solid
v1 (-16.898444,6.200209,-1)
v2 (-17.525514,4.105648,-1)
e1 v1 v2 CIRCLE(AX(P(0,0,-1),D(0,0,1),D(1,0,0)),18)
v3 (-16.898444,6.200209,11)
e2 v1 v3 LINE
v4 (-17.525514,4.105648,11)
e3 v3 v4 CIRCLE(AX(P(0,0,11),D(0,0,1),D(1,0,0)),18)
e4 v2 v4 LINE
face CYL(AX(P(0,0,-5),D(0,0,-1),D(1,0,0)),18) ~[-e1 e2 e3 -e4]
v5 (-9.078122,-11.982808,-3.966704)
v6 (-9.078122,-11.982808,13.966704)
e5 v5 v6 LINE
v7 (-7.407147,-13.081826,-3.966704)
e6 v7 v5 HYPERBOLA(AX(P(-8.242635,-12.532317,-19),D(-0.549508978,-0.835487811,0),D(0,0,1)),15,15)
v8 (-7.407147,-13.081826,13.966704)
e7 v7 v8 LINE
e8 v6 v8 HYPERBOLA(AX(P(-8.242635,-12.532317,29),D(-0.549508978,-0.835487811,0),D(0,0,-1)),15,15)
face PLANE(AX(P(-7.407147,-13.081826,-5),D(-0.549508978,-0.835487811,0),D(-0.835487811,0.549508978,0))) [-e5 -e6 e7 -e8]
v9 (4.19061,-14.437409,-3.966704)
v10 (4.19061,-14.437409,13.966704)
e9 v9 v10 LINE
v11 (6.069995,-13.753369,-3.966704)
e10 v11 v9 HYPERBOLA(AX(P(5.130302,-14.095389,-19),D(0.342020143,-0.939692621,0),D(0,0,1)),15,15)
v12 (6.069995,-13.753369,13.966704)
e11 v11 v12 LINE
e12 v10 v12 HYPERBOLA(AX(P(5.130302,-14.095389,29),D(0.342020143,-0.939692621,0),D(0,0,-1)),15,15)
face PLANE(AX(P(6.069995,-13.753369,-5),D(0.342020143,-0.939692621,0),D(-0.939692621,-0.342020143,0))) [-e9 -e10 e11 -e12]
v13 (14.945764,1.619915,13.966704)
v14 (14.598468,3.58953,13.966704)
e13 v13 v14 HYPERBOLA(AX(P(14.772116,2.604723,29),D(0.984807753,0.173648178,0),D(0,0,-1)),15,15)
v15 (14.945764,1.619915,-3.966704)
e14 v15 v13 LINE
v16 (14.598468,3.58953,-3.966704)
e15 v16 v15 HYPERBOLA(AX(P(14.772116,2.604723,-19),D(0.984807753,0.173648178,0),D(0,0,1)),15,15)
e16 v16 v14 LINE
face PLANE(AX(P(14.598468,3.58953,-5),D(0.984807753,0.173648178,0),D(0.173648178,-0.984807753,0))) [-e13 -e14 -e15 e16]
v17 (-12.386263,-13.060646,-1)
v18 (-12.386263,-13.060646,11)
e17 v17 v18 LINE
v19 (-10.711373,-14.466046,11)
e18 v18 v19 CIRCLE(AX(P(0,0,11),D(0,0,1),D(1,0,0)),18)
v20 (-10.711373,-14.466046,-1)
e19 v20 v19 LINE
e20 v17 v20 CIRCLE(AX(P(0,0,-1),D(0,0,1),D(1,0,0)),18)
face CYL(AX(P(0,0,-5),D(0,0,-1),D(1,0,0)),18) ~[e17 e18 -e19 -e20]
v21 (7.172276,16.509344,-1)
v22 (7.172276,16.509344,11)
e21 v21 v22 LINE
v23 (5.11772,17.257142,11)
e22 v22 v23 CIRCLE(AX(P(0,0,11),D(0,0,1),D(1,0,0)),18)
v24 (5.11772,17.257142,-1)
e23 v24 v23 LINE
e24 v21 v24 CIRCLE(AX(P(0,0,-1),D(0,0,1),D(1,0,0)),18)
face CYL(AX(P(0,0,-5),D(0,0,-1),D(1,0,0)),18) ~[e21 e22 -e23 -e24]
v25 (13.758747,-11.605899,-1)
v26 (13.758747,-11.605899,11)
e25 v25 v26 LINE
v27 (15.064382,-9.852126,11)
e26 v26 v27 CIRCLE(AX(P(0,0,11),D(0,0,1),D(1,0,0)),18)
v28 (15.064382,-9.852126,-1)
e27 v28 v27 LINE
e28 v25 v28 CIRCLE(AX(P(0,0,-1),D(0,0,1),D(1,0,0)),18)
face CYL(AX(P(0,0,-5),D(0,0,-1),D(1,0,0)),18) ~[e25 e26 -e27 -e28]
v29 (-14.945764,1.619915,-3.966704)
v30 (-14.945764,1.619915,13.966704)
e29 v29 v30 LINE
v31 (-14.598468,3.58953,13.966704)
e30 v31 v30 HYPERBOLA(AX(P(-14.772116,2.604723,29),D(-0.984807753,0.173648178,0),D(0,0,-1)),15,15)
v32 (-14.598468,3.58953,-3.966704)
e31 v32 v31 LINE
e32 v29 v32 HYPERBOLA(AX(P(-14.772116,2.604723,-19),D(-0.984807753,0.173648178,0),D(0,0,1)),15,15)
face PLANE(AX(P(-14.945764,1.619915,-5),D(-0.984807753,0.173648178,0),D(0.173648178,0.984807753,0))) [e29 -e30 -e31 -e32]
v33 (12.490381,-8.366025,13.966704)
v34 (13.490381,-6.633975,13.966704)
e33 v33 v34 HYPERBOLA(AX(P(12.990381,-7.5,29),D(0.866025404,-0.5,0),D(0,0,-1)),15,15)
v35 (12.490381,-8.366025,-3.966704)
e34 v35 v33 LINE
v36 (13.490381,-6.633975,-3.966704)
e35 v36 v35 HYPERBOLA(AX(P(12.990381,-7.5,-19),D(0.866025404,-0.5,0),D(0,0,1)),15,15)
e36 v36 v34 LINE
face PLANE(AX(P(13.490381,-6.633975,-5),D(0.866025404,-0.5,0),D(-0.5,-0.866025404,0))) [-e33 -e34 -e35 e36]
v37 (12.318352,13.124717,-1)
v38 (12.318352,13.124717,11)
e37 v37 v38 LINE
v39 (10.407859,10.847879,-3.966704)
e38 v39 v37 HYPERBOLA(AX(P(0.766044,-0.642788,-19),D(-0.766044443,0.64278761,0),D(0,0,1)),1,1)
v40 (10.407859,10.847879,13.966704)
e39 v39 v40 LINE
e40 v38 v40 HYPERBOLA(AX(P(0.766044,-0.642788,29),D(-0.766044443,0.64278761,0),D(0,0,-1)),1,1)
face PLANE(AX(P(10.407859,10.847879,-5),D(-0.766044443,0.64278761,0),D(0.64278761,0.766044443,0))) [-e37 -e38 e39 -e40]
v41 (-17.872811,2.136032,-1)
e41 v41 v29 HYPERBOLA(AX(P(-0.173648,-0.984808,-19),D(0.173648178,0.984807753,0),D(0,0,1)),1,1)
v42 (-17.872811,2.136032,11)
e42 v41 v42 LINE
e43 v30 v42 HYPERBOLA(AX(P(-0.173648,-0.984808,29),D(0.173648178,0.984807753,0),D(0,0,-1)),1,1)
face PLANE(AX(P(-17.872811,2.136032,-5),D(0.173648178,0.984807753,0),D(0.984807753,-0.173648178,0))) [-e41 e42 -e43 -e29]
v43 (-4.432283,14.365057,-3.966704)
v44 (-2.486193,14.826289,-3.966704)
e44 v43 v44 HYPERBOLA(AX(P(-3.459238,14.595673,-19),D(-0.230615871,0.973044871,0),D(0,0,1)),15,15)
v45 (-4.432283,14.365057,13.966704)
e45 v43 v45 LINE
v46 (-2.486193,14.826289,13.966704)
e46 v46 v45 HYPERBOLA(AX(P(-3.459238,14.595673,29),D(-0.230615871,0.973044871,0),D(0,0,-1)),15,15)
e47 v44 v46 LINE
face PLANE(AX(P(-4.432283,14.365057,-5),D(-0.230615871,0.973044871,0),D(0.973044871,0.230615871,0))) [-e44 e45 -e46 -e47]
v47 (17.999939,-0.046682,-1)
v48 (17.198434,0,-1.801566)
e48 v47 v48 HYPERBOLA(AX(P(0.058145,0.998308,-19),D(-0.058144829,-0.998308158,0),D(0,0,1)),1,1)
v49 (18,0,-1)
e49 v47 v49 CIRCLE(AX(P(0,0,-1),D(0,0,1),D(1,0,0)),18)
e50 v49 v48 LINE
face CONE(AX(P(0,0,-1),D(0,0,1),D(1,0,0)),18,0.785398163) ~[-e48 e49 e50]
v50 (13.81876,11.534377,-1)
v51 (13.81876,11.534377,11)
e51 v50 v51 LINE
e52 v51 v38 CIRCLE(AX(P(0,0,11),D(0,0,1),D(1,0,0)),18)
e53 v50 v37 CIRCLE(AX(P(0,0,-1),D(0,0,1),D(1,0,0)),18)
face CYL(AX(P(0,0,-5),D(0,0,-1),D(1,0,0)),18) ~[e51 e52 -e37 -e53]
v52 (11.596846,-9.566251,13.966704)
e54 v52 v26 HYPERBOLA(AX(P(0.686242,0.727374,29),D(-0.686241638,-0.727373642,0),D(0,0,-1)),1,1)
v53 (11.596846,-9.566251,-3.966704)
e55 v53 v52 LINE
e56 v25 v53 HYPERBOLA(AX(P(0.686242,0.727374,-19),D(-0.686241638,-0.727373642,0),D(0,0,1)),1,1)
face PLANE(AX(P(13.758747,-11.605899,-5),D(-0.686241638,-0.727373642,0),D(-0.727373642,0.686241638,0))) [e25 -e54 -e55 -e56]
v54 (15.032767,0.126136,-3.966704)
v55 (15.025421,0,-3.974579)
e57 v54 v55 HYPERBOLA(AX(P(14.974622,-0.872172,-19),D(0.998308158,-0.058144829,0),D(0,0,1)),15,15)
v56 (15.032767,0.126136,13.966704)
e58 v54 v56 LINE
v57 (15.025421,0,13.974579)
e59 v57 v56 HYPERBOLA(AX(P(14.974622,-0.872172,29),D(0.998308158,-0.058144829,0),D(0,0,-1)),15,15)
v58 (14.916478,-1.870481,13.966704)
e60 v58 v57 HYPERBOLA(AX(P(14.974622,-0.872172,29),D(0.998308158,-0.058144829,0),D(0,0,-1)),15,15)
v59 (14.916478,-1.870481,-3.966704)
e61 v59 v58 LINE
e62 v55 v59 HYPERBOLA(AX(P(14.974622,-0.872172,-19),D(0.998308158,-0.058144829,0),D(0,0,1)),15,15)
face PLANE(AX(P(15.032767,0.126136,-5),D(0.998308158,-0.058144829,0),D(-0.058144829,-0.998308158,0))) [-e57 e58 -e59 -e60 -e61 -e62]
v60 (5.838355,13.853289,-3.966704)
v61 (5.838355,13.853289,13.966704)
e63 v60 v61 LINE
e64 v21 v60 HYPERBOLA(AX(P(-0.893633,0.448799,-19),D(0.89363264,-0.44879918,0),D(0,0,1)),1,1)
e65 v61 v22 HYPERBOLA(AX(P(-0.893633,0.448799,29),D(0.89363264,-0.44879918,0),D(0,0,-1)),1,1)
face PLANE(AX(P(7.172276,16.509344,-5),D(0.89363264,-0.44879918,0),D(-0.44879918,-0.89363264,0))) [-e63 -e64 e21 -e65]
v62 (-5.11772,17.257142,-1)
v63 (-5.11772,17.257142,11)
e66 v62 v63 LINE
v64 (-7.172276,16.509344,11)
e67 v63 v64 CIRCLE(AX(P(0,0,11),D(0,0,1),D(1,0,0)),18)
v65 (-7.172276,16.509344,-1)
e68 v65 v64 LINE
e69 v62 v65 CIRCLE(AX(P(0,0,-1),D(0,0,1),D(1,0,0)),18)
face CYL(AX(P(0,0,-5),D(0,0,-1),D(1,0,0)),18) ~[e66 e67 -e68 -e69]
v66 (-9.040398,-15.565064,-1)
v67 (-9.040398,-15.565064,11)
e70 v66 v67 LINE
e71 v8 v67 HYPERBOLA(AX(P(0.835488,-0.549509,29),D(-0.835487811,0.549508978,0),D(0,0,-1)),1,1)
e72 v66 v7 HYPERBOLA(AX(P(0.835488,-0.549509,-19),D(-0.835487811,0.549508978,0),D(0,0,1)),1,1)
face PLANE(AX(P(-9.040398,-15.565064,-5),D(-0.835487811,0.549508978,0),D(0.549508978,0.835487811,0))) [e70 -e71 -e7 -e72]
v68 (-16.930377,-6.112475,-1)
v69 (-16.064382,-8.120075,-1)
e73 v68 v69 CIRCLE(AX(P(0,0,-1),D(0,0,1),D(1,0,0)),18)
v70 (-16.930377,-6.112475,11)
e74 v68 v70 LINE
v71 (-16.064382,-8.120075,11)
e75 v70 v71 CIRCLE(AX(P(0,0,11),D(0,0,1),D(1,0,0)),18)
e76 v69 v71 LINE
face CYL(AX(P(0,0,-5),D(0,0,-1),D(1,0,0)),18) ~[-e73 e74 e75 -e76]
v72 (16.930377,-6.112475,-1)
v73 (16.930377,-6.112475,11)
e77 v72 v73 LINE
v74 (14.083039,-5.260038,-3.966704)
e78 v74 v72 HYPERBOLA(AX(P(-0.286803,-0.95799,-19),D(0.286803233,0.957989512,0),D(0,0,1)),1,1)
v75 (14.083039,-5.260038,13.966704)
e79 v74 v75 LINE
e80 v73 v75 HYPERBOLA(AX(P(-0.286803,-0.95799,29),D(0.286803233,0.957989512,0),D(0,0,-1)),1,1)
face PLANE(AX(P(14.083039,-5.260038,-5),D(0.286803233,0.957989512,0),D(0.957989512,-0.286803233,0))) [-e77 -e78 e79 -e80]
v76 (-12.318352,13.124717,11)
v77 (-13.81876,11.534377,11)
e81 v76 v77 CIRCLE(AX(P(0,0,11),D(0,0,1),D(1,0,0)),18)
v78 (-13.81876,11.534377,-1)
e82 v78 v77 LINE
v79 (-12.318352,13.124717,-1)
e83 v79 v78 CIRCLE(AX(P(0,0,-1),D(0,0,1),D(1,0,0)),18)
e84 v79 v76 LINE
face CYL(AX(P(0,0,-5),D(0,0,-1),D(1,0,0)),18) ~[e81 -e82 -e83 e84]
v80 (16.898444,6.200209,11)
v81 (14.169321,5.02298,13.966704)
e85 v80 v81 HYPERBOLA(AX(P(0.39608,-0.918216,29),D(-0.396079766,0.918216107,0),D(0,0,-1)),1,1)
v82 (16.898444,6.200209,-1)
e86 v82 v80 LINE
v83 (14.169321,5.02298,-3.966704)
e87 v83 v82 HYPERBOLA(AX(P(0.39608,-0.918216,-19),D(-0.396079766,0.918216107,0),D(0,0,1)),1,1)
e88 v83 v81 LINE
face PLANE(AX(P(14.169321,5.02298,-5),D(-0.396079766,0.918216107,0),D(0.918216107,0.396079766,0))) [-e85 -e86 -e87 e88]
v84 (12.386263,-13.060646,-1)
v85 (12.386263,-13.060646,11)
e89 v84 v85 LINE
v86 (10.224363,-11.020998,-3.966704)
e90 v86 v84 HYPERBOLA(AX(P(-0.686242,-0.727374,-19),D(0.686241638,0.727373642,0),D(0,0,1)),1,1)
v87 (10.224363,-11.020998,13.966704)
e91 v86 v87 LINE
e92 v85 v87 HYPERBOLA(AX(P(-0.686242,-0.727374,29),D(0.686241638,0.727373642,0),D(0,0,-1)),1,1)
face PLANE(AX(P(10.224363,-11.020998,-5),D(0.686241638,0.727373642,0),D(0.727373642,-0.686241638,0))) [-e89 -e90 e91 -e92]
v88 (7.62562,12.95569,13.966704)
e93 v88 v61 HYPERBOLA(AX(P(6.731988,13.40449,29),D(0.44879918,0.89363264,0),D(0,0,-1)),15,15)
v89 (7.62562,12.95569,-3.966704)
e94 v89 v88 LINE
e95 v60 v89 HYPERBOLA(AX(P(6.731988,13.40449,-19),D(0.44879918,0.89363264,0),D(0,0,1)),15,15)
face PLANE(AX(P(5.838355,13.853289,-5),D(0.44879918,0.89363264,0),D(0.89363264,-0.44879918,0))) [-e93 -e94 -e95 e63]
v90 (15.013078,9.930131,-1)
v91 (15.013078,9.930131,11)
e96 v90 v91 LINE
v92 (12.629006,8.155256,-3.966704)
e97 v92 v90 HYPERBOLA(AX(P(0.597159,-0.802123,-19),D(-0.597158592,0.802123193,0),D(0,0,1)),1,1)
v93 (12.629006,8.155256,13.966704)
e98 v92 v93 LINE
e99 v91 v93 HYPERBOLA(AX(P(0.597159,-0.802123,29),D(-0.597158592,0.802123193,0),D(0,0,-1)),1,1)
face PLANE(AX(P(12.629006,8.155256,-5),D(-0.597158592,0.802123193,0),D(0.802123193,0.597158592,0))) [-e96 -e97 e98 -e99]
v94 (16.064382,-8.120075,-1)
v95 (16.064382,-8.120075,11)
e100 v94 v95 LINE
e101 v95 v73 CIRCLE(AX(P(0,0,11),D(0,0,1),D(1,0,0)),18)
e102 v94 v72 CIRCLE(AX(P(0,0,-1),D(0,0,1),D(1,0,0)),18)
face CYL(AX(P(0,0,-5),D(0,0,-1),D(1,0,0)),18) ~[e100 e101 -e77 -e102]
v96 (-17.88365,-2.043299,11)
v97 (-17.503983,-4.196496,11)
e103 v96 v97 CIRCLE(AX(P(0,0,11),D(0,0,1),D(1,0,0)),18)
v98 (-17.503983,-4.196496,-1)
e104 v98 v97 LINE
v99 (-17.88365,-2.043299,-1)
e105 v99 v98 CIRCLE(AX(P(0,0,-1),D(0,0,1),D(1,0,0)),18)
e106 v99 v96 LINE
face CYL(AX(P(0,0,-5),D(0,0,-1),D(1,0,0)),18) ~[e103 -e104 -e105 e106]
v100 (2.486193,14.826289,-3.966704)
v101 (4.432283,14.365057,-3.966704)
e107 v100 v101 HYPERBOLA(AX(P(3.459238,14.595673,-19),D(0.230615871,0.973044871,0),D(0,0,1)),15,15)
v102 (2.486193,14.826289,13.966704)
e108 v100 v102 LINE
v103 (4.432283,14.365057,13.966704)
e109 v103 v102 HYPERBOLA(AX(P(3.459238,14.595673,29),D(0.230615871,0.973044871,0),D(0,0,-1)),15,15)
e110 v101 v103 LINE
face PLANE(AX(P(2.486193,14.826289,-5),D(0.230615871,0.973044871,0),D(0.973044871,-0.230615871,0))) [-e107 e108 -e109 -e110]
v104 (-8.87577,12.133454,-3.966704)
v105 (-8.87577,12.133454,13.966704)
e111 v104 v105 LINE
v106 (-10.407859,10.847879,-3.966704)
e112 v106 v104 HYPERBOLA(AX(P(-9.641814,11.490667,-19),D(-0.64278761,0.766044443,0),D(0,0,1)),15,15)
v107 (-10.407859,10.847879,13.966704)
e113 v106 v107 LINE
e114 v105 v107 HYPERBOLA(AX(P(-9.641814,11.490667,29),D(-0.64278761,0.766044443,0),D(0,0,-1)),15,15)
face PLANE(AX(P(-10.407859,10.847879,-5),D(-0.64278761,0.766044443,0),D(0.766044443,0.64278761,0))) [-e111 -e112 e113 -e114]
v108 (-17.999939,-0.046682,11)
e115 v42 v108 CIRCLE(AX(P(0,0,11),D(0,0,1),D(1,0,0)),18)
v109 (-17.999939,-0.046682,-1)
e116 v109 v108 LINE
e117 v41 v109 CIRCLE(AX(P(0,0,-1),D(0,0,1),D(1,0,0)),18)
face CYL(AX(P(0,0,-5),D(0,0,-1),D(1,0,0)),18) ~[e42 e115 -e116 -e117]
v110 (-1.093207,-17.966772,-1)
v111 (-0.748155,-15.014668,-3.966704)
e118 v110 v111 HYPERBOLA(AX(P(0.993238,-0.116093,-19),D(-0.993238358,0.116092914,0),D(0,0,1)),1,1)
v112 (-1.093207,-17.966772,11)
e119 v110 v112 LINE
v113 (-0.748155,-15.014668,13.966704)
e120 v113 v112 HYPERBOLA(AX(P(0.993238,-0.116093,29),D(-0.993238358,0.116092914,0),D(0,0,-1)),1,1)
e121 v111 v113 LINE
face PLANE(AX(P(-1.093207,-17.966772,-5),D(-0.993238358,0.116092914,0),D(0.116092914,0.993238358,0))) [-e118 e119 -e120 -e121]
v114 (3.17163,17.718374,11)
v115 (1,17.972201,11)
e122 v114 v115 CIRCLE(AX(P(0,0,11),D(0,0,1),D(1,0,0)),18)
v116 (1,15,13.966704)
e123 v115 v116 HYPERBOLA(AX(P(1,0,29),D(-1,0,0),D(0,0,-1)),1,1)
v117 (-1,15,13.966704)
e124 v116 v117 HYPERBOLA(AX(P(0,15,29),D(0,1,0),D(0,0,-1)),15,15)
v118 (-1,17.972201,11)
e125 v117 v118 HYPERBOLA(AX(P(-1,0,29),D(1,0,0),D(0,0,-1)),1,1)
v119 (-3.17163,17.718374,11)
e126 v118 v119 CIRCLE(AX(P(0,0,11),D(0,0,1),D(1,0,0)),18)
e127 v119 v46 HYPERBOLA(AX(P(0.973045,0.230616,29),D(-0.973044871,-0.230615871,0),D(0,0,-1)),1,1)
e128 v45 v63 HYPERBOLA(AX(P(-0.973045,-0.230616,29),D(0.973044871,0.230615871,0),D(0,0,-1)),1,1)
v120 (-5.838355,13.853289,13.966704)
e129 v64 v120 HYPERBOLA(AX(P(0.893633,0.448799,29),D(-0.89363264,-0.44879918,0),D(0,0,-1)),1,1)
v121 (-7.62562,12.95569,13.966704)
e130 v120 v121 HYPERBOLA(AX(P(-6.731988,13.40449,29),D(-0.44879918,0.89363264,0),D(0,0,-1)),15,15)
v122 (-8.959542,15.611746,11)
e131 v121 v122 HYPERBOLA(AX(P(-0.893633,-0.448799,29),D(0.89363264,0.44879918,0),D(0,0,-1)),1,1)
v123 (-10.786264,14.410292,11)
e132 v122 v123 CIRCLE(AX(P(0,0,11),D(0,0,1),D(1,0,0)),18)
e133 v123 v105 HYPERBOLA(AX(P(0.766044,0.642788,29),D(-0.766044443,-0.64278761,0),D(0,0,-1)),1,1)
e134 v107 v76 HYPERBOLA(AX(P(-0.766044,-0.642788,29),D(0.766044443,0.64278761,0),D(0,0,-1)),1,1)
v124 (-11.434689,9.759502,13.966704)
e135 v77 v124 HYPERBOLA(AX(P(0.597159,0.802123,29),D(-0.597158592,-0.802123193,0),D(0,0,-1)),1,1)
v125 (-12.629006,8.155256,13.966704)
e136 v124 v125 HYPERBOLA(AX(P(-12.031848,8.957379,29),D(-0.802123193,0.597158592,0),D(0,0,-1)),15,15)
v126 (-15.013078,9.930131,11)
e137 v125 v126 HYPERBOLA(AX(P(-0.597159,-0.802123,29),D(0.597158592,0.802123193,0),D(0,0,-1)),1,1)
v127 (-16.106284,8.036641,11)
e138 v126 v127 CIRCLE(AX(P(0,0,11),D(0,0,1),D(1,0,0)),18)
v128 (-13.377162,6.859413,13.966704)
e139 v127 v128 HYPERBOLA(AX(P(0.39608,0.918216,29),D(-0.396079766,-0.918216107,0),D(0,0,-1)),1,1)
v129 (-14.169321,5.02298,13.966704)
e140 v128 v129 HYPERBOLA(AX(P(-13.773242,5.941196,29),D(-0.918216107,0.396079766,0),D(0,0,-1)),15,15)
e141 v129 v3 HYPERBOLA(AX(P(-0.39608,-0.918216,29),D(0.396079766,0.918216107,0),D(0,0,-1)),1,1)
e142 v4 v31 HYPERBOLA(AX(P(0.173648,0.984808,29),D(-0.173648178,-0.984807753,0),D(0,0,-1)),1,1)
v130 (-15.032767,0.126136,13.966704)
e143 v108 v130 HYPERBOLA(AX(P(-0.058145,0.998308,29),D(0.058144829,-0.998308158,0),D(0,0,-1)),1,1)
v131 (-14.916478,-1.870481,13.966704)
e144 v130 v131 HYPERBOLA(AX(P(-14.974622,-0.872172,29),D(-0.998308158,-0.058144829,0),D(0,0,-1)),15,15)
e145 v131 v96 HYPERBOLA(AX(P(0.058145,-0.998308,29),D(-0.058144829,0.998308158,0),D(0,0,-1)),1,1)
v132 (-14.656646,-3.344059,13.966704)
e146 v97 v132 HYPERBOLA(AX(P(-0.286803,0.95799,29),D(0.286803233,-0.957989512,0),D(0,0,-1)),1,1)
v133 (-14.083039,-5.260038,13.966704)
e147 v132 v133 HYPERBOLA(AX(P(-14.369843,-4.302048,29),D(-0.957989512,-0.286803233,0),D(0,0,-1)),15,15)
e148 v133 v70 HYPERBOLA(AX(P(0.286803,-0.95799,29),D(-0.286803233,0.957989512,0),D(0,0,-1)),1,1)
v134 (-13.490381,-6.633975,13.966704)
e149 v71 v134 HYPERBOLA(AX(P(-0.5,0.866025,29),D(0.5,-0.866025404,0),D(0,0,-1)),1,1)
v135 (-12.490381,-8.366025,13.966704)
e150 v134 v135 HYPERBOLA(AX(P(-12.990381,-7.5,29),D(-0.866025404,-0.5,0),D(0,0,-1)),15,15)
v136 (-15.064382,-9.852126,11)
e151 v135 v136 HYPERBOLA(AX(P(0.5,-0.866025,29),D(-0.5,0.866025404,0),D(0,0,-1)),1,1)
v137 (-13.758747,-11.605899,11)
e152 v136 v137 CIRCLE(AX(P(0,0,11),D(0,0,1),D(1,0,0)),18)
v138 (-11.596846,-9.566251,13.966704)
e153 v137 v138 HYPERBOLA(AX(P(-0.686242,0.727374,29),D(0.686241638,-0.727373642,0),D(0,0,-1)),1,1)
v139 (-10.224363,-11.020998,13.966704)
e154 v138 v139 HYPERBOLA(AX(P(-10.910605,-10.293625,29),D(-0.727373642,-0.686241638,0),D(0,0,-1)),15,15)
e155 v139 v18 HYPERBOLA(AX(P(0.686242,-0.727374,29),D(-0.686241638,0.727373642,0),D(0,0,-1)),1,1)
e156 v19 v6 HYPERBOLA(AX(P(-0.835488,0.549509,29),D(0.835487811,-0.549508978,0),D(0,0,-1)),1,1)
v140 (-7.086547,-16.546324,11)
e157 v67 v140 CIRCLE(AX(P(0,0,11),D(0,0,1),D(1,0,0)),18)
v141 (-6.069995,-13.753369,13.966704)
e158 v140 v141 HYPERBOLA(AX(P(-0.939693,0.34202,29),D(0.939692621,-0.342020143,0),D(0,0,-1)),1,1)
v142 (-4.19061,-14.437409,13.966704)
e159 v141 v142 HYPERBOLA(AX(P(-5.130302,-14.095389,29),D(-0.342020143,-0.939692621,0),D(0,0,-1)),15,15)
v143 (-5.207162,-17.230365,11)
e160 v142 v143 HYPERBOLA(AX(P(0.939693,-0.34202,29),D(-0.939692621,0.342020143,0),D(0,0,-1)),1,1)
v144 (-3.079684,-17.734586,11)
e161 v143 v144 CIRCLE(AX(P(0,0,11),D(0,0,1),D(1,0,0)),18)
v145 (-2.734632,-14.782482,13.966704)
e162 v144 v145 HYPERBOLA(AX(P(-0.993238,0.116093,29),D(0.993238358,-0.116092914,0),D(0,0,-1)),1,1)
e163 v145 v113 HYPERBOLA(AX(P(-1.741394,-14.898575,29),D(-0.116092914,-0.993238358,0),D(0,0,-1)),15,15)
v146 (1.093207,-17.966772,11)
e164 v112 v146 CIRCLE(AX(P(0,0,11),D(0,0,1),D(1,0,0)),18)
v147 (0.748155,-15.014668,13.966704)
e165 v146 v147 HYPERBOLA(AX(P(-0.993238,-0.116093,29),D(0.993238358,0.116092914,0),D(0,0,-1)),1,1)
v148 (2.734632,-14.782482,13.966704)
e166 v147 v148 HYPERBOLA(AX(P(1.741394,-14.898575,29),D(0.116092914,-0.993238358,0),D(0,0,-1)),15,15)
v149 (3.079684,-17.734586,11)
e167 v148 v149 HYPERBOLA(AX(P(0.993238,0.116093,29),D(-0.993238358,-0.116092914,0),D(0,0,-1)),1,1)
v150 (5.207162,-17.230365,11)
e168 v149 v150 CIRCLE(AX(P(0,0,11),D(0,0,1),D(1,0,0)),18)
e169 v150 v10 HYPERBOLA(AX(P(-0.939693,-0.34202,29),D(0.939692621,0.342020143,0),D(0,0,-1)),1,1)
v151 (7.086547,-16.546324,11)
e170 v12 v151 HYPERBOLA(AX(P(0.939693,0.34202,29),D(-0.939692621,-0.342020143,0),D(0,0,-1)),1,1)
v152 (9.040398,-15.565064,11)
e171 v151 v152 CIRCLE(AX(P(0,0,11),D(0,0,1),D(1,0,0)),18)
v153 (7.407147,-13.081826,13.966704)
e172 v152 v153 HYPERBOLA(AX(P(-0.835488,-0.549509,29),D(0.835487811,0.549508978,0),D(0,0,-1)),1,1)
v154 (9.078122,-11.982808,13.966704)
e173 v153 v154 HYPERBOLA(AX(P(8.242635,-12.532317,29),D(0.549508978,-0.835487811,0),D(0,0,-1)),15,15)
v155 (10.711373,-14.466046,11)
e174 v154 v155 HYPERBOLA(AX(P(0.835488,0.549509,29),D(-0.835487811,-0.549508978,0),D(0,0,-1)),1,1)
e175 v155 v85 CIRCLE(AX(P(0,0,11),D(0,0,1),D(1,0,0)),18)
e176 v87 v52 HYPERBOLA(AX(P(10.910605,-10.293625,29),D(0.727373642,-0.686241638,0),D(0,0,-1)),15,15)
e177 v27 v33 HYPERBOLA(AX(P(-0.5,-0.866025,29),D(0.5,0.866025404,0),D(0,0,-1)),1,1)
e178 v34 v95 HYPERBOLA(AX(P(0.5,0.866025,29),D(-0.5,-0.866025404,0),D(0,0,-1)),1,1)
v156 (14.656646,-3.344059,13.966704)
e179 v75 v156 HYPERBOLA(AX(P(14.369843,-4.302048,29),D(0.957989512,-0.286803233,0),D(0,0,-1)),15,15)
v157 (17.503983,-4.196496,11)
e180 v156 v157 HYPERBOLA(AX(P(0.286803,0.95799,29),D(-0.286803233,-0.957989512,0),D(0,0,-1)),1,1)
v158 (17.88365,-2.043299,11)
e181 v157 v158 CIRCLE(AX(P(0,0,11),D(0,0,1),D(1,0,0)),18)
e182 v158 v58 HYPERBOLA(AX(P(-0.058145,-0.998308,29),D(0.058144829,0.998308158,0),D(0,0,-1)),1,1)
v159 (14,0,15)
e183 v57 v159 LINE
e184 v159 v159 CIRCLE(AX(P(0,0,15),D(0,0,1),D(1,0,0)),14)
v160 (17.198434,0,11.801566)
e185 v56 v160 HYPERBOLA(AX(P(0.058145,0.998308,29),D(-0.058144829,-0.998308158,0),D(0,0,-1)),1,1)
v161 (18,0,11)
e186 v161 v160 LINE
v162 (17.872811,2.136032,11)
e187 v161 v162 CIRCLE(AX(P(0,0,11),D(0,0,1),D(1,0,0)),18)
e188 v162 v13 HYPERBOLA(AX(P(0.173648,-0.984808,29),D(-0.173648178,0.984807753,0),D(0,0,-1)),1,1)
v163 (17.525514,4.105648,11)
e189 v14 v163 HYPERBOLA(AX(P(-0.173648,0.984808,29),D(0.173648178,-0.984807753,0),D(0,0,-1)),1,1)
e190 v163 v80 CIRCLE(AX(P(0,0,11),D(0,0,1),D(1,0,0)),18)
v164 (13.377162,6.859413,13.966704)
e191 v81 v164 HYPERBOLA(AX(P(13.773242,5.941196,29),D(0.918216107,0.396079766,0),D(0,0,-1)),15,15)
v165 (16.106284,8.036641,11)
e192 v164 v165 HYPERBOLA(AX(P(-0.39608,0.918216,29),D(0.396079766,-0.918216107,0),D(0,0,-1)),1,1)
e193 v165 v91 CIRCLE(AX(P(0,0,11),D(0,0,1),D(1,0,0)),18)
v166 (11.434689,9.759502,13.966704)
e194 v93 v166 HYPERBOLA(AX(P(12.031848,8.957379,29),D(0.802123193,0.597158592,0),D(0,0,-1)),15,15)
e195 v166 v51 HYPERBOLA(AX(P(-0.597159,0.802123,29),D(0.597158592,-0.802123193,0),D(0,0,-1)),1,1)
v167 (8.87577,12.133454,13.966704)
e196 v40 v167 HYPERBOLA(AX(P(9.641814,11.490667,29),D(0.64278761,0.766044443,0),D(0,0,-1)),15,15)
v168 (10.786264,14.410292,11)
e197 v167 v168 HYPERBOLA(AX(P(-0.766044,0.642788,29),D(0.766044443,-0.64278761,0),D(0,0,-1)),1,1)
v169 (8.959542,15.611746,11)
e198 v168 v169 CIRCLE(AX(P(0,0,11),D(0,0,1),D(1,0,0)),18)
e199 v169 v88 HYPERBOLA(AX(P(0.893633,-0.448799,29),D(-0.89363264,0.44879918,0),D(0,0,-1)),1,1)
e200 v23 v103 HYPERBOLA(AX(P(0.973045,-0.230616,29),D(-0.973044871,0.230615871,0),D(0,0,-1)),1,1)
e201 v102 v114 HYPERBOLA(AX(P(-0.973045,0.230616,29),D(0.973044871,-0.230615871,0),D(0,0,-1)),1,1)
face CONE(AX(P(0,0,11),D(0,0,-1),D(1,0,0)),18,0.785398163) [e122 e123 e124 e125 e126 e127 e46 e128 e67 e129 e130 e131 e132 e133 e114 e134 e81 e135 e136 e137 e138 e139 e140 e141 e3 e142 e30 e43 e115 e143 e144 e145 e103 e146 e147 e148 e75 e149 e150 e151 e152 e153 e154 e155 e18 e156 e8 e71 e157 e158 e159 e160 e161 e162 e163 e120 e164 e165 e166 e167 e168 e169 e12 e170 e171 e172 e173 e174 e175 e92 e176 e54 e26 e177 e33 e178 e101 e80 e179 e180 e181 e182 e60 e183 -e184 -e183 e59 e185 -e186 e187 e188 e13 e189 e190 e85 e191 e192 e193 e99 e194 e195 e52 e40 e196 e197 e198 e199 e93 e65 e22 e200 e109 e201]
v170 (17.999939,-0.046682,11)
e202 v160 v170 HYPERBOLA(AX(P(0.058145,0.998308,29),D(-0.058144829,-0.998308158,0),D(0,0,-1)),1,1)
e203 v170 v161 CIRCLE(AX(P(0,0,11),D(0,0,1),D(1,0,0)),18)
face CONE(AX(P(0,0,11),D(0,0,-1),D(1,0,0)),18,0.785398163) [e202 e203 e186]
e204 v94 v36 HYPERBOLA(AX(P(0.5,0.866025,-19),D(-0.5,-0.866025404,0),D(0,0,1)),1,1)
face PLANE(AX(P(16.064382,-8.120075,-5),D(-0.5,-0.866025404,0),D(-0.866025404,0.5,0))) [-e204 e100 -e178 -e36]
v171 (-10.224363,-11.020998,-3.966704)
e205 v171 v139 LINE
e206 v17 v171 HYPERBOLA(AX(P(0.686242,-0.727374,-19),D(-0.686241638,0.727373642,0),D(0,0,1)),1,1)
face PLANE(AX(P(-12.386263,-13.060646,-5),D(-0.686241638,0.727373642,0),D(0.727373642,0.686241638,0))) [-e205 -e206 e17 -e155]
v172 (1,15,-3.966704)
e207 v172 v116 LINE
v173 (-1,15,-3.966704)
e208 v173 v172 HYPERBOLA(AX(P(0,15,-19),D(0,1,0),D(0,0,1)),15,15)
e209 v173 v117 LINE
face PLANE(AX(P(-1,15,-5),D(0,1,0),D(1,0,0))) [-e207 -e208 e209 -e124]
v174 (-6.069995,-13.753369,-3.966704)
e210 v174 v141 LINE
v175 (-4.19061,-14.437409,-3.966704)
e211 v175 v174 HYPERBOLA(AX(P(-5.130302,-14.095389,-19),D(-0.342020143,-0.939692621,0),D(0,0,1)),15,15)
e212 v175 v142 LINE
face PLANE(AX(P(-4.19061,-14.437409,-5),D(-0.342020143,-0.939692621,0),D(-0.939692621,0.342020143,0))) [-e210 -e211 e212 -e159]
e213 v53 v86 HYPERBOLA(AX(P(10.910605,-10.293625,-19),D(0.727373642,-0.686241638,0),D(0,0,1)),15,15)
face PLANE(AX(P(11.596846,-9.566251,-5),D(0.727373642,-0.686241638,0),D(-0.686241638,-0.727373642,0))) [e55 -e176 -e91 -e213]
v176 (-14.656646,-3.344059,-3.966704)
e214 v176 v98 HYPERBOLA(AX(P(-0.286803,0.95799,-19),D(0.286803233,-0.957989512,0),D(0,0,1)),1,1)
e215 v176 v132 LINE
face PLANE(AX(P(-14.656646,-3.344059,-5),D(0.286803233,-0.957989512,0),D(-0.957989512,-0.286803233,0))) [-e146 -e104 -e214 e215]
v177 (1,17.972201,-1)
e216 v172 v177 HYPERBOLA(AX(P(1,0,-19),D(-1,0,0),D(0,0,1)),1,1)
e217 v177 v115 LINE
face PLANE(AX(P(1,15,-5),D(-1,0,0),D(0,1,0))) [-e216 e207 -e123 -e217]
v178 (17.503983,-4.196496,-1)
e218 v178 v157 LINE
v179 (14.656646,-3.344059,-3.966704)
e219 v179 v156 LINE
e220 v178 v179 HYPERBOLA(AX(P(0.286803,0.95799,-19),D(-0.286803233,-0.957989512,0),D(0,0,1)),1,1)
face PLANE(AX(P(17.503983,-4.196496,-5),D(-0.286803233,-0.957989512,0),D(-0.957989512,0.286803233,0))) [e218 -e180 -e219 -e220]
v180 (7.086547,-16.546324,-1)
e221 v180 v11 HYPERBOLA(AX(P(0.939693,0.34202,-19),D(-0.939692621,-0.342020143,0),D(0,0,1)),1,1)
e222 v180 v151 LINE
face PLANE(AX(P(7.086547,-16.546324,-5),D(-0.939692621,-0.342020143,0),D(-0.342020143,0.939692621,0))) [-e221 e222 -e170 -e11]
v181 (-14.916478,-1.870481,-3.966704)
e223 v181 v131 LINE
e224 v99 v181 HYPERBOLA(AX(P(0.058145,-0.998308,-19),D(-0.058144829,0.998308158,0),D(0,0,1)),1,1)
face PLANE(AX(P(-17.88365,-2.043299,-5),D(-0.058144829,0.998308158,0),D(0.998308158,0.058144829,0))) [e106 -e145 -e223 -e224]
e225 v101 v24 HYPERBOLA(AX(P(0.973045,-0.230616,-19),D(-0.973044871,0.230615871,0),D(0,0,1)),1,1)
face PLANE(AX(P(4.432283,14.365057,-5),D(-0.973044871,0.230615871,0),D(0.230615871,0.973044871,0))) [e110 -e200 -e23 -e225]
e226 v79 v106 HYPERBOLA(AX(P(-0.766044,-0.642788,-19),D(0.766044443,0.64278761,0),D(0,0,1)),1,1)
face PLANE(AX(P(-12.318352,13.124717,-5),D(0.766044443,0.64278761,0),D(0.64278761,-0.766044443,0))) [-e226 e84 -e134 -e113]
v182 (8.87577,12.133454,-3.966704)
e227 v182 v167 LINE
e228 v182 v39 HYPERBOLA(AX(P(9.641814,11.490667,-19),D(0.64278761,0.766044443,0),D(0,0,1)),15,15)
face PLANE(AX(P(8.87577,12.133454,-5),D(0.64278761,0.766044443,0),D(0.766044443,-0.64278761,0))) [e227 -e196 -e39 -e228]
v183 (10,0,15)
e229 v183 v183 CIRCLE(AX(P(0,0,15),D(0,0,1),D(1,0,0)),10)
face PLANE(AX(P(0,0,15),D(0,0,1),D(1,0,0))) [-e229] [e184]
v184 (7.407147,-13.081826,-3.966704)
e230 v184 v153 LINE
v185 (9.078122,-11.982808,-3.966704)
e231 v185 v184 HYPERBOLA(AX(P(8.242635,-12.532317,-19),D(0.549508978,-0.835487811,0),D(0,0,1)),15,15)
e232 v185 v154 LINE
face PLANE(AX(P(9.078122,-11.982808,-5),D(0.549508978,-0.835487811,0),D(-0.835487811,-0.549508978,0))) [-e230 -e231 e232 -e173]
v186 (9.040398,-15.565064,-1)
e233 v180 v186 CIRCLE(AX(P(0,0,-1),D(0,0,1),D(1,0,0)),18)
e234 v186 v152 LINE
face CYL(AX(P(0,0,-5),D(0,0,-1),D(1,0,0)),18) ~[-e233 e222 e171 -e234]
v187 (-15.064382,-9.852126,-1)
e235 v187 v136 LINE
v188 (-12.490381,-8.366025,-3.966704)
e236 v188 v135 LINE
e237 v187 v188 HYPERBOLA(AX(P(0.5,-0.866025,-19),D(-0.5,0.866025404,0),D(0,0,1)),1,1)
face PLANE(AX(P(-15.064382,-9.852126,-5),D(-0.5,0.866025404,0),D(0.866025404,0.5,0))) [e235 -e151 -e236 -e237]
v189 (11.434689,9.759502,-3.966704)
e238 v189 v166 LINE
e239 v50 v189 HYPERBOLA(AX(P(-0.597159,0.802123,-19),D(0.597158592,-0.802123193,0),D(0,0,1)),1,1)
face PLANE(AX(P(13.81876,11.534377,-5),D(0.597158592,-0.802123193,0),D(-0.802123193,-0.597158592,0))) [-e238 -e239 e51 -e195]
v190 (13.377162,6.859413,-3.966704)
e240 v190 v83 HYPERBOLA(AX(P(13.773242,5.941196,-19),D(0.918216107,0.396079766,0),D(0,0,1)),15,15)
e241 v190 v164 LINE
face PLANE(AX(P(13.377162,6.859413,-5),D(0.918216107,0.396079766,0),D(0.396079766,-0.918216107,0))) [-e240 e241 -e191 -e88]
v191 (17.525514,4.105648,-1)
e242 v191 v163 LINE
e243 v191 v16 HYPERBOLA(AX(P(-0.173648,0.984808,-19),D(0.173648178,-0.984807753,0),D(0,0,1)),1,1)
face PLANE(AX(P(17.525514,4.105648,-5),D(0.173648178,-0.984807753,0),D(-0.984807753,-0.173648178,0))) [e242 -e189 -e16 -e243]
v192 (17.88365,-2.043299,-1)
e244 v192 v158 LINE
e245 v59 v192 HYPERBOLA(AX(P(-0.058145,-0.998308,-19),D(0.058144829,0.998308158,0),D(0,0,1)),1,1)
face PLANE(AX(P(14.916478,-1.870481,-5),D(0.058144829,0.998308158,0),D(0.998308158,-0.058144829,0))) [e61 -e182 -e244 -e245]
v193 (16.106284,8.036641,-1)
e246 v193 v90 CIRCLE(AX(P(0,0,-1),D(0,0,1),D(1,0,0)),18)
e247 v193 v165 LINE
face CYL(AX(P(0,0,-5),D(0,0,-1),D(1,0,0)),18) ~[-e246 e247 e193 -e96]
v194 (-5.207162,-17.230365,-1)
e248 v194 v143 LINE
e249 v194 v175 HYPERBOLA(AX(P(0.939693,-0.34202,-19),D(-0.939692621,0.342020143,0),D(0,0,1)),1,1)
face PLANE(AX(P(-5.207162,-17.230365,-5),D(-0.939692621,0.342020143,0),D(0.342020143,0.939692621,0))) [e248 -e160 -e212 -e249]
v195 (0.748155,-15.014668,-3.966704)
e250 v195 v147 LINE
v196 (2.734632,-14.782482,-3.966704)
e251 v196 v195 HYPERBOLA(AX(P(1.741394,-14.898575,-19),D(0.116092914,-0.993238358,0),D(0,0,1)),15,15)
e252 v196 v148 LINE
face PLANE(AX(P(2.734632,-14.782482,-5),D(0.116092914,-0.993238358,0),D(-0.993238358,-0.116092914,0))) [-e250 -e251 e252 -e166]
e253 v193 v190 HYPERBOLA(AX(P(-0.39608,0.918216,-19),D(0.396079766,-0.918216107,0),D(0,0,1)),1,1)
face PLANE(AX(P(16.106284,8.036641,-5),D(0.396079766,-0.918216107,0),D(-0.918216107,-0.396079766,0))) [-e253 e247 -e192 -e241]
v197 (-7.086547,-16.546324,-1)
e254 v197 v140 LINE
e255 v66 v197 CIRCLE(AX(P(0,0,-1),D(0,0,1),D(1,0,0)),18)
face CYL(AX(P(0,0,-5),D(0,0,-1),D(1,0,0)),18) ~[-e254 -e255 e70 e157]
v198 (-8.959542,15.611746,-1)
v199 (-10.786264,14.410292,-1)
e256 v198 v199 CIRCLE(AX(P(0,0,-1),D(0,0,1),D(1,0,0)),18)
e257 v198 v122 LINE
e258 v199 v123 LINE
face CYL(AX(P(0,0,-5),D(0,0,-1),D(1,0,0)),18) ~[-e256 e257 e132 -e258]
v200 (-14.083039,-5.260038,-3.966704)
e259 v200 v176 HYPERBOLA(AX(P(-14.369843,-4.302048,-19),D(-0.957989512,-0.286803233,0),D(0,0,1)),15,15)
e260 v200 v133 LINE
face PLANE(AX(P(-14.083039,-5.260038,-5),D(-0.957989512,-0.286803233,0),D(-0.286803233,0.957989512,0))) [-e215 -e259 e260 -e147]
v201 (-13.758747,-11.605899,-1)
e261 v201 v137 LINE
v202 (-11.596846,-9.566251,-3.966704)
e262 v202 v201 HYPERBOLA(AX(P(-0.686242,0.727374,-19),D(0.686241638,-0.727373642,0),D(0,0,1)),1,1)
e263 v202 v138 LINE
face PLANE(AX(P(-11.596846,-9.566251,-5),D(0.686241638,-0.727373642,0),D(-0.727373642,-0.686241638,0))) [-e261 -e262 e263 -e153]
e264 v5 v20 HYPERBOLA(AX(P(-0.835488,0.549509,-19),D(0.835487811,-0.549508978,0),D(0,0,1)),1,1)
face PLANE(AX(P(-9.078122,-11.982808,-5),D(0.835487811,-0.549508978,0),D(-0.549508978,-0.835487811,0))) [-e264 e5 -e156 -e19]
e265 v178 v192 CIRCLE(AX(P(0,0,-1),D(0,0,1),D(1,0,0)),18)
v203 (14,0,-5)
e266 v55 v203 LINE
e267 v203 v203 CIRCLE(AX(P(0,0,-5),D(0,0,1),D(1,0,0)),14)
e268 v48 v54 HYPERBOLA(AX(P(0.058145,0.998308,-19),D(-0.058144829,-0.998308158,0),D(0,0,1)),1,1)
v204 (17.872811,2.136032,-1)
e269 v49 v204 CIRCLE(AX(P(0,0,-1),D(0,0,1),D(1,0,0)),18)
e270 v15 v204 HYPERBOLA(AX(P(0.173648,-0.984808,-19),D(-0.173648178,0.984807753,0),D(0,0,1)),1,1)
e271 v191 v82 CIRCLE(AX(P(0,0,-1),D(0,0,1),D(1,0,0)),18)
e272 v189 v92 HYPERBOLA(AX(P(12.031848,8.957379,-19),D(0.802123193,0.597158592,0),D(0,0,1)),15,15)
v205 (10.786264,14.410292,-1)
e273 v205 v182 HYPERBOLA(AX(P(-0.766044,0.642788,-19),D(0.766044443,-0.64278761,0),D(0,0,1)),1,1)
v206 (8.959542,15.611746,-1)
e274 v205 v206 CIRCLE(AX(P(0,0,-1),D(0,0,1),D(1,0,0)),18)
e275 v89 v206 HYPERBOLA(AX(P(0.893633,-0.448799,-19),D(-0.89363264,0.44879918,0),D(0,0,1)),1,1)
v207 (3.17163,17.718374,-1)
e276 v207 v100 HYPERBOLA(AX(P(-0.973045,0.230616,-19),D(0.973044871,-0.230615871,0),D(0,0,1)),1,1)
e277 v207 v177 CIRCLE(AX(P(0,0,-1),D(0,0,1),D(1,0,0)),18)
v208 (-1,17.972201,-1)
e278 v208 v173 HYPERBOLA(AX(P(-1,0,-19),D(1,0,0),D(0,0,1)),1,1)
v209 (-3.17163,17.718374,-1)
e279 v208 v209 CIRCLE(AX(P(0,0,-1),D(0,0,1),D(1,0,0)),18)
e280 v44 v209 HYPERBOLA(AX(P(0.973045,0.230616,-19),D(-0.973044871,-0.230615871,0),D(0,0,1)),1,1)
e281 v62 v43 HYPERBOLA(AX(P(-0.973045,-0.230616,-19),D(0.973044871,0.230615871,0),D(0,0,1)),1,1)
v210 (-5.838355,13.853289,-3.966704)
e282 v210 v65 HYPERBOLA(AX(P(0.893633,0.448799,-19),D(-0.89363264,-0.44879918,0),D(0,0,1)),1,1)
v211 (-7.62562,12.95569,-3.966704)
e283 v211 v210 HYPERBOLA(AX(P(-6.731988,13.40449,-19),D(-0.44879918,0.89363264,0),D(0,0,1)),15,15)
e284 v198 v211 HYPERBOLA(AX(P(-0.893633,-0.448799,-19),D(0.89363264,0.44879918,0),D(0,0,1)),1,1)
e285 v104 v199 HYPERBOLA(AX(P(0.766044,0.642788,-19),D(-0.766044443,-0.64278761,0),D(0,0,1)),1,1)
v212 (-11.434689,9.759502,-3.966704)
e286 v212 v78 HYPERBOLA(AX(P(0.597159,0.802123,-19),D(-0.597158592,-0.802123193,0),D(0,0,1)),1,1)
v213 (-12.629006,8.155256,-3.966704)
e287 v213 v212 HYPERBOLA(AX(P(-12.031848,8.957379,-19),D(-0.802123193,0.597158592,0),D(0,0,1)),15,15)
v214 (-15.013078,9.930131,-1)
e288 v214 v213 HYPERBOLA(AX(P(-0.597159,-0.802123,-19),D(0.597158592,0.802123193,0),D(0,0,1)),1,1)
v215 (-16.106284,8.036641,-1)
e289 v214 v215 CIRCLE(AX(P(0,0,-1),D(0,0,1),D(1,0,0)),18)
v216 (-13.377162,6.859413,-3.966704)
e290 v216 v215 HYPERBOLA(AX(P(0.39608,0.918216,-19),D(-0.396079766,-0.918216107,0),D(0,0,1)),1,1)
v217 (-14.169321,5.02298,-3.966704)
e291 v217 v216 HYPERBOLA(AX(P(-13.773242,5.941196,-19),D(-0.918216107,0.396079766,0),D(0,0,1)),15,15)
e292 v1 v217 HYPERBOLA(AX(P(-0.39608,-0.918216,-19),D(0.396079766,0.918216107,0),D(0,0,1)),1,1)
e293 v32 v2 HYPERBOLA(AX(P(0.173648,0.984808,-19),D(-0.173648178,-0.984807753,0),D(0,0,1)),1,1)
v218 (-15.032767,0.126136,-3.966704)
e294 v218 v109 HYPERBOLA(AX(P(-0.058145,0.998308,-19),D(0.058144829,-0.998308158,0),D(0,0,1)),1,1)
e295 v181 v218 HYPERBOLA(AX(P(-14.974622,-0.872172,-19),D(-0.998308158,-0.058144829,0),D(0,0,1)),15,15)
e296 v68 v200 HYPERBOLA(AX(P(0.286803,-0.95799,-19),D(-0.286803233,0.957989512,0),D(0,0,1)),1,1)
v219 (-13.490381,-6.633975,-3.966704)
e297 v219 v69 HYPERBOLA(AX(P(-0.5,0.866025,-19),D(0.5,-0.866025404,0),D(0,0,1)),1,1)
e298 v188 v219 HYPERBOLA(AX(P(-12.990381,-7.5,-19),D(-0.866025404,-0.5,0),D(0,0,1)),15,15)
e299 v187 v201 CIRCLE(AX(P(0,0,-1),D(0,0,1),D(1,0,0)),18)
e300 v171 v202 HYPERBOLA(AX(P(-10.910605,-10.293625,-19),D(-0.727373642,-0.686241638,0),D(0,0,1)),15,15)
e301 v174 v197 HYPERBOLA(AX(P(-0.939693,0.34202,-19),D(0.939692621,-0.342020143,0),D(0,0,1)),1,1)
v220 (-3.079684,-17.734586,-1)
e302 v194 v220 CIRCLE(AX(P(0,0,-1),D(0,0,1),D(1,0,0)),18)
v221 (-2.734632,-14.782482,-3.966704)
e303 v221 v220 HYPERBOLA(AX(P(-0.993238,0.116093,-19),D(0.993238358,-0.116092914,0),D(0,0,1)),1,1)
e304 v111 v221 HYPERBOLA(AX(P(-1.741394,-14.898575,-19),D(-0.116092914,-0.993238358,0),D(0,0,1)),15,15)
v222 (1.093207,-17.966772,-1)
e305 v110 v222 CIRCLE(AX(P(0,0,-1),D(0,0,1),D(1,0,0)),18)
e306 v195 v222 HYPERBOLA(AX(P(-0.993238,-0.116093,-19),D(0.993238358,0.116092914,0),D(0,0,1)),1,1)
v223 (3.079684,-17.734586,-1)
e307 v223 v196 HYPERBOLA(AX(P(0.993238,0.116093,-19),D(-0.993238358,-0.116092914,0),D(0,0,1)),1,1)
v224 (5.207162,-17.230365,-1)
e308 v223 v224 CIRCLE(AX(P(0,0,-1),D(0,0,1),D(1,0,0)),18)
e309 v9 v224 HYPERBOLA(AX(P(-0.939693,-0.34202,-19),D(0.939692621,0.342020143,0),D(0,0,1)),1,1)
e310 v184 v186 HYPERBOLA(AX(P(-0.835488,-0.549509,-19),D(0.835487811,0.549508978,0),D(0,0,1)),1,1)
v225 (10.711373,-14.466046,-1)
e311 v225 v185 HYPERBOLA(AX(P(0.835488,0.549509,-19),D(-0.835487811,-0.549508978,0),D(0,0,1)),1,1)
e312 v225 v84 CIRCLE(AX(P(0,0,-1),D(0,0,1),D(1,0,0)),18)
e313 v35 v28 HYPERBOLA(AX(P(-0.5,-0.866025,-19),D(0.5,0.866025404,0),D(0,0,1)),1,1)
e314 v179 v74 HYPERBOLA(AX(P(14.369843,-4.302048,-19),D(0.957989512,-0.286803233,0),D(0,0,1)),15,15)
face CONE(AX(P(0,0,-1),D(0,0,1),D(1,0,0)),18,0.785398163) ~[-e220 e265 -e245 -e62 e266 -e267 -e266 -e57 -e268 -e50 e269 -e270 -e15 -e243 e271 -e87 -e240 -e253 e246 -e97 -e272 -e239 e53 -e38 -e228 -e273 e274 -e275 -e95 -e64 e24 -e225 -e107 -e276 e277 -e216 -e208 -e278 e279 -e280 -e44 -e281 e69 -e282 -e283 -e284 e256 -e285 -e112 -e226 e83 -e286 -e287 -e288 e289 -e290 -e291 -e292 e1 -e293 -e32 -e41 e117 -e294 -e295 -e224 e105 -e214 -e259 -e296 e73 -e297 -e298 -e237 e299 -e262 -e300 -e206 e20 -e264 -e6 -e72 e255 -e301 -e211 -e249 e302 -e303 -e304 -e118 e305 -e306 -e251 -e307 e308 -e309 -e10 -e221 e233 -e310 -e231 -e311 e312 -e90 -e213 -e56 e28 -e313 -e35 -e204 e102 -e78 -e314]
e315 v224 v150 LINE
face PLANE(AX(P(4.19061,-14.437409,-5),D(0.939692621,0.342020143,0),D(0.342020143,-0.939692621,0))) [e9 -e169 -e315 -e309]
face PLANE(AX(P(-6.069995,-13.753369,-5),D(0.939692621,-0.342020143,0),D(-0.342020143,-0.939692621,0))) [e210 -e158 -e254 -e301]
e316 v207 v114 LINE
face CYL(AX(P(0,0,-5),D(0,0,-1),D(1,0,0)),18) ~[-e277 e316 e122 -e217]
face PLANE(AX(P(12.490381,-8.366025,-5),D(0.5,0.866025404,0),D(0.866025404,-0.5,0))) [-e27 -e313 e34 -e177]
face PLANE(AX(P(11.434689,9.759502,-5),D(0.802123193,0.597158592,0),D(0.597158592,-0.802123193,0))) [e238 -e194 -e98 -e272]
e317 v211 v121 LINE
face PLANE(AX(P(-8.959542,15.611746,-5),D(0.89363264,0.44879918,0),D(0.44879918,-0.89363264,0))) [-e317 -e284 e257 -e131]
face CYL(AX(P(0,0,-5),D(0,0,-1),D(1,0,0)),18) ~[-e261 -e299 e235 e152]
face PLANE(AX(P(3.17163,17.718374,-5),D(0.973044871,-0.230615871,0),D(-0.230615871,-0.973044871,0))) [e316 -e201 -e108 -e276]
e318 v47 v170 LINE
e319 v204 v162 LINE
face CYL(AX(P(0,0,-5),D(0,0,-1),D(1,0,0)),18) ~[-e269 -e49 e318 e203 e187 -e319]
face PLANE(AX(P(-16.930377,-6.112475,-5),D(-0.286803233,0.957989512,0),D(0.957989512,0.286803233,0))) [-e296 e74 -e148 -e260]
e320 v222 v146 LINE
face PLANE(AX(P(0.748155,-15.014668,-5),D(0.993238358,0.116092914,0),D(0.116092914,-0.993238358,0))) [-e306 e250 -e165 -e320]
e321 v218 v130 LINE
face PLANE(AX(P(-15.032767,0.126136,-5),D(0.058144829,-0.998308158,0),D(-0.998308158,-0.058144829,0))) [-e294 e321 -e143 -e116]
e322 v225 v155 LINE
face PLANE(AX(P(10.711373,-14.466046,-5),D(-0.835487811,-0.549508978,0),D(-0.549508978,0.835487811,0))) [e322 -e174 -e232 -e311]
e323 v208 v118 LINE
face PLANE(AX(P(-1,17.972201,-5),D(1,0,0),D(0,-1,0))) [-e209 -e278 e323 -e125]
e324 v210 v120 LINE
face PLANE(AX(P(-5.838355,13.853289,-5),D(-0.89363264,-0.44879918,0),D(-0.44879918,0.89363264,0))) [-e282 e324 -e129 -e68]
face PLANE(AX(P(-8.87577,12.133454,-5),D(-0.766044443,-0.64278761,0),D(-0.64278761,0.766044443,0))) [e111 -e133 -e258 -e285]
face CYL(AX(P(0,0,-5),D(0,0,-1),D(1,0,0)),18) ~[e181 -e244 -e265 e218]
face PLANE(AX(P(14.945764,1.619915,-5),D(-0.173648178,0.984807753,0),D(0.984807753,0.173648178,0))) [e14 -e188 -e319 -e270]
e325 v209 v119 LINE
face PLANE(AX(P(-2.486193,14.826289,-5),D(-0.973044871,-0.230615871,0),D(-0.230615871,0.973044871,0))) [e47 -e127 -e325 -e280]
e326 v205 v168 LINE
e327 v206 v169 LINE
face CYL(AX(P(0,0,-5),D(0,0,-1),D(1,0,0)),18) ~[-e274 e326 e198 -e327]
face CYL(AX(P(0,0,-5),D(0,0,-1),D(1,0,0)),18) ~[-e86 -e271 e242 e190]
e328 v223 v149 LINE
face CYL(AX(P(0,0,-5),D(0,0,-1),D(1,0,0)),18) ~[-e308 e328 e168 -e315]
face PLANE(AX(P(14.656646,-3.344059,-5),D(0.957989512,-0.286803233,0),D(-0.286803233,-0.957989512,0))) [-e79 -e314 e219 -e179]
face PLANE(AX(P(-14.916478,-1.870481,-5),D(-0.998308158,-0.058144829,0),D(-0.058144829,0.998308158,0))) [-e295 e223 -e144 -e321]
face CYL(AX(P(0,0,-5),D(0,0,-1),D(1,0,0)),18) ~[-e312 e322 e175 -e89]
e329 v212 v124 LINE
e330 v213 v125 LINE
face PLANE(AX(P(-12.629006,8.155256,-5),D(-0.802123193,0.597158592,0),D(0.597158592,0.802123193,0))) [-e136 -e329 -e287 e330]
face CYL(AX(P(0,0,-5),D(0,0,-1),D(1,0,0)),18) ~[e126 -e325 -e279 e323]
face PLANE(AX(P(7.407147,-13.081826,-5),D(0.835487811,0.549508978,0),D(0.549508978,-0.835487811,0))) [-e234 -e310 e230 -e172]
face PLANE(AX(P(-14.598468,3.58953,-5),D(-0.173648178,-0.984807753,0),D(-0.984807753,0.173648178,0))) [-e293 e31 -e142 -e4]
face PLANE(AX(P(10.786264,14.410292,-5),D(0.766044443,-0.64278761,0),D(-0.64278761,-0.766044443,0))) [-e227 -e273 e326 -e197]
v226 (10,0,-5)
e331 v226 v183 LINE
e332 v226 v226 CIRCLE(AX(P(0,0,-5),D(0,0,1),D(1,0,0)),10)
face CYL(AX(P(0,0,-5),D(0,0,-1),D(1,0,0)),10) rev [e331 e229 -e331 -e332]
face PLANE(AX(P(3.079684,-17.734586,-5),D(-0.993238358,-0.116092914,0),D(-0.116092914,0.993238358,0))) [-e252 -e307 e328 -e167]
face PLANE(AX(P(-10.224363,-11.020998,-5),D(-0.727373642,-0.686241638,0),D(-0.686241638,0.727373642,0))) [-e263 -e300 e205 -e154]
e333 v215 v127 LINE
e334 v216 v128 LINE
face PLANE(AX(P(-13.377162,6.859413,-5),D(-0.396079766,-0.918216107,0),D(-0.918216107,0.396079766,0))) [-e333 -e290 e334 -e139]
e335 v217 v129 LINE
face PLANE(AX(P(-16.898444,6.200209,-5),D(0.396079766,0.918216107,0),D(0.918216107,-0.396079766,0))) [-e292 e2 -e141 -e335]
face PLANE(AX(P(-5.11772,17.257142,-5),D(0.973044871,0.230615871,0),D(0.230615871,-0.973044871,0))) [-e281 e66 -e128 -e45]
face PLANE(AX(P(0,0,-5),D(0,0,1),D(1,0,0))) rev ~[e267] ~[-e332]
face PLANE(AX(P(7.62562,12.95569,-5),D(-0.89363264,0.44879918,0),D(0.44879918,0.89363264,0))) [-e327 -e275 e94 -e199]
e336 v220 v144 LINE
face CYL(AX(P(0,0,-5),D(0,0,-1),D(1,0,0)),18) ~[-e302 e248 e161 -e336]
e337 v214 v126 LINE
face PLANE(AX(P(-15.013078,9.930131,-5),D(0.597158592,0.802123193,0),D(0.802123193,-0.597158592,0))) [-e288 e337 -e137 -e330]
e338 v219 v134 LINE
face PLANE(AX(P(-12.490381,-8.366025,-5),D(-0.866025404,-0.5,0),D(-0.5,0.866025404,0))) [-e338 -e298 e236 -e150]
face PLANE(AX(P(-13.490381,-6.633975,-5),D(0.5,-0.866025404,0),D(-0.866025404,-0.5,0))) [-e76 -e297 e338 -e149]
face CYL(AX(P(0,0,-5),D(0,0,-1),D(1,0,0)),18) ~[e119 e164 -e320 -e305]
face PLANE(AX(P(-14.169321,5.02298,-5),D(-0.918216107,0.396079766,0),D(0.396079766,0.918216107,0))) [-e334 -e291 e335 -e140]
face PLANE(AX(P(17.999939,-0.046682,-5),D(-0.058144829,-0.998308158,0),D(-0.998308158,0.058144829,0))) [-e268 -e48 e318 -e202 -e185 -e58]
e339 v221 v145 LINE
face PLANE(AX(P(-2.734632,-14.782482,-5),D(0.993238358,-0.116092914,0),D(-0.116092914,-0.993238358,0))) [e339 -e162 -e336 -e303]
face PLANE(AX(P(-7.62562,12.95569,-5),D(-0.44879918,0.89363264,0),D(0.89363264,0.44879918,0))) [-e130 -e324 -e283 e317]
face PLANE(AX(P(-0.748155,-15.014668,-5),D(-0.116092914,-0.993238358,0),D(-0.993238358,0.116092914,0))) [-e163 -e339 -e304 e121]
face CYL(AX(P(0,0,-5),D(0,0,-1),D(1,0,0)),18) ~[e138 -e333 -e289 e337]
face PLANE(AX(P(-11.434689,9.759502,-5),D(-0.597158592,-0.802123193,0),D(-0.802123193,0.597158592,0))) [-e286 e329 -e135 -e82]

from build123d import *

# Parameters (mm, degrees)
SKETCH1_R           = 9
SKETCH1_R_2         = 5
BOSS_EXTRUDE1_DEPTH = 10
CHAMFER1_SIZE       = 2
CUT_EXTRUDE1_DEPTH  = 11
CIRPATTERN1_COUNT   = 27
SCALE1_SCALE        = 2


with BuildPart() as part:
    # Sketch1 → Boss-Extrude1 (new body)
    with BuildSketch(Plane.XY):
        Circle(SKETCH1_R)
        Circle(SKETCH1_R_2, mode=Mode.SUBTRACT)
    extrude(amount=BOSS_EXTRUDE1_DEPTH)

    # Chamfer1
    chamfer1_edges = [part.edges().sort_by_distance(p)[0] for p in [
        (-9, 0, 0),
        (-9, 0, 10),
    ]]
    chamfer(chamfer1_edges, length=CHAMFER1_SIZE)

    # Sketch2 → Cut-Extrude1 (cut, through all)
    with BuildSketch(Plane.XY):
        with BuildLine():
            Line((0.5, 7.5), (0.5, 8.986100378))
            ThreePointArc((0.5, 8.986100378), (0, 9), (-0.5, 8.986100378))
            Line((-0.5, 8.986100378), (-0.5, 7.5))
            Line((-0.5, 7.5), (0.5, 7.5))
        make_face()
    cut_extrude1 = extrude(amount=CUT_EXTRUDE1_DEPTH, mode=Mode.SUBTRACT)

    # CirPattern1: Cut-Extrude1 ×27 about axis
    cirpattern1_axis = Axis((0, 0, 0), (0, 0, 1))
    for i in range(1, CIRPATTERN1_COUNT):
        add(cut_extrude1.rotate(cirpattern1_axis, i * 360 / CIRPATTERN1_COUNT), mode=Mode.SUBTRACT)


with BuildPart() as part_1:
    # Scale1: scaled about (0, 0, 5)
    add(part.part.scale(SCALE1_SCALE).moved(Location((0, 0, -5))))


solid = part_1.part
